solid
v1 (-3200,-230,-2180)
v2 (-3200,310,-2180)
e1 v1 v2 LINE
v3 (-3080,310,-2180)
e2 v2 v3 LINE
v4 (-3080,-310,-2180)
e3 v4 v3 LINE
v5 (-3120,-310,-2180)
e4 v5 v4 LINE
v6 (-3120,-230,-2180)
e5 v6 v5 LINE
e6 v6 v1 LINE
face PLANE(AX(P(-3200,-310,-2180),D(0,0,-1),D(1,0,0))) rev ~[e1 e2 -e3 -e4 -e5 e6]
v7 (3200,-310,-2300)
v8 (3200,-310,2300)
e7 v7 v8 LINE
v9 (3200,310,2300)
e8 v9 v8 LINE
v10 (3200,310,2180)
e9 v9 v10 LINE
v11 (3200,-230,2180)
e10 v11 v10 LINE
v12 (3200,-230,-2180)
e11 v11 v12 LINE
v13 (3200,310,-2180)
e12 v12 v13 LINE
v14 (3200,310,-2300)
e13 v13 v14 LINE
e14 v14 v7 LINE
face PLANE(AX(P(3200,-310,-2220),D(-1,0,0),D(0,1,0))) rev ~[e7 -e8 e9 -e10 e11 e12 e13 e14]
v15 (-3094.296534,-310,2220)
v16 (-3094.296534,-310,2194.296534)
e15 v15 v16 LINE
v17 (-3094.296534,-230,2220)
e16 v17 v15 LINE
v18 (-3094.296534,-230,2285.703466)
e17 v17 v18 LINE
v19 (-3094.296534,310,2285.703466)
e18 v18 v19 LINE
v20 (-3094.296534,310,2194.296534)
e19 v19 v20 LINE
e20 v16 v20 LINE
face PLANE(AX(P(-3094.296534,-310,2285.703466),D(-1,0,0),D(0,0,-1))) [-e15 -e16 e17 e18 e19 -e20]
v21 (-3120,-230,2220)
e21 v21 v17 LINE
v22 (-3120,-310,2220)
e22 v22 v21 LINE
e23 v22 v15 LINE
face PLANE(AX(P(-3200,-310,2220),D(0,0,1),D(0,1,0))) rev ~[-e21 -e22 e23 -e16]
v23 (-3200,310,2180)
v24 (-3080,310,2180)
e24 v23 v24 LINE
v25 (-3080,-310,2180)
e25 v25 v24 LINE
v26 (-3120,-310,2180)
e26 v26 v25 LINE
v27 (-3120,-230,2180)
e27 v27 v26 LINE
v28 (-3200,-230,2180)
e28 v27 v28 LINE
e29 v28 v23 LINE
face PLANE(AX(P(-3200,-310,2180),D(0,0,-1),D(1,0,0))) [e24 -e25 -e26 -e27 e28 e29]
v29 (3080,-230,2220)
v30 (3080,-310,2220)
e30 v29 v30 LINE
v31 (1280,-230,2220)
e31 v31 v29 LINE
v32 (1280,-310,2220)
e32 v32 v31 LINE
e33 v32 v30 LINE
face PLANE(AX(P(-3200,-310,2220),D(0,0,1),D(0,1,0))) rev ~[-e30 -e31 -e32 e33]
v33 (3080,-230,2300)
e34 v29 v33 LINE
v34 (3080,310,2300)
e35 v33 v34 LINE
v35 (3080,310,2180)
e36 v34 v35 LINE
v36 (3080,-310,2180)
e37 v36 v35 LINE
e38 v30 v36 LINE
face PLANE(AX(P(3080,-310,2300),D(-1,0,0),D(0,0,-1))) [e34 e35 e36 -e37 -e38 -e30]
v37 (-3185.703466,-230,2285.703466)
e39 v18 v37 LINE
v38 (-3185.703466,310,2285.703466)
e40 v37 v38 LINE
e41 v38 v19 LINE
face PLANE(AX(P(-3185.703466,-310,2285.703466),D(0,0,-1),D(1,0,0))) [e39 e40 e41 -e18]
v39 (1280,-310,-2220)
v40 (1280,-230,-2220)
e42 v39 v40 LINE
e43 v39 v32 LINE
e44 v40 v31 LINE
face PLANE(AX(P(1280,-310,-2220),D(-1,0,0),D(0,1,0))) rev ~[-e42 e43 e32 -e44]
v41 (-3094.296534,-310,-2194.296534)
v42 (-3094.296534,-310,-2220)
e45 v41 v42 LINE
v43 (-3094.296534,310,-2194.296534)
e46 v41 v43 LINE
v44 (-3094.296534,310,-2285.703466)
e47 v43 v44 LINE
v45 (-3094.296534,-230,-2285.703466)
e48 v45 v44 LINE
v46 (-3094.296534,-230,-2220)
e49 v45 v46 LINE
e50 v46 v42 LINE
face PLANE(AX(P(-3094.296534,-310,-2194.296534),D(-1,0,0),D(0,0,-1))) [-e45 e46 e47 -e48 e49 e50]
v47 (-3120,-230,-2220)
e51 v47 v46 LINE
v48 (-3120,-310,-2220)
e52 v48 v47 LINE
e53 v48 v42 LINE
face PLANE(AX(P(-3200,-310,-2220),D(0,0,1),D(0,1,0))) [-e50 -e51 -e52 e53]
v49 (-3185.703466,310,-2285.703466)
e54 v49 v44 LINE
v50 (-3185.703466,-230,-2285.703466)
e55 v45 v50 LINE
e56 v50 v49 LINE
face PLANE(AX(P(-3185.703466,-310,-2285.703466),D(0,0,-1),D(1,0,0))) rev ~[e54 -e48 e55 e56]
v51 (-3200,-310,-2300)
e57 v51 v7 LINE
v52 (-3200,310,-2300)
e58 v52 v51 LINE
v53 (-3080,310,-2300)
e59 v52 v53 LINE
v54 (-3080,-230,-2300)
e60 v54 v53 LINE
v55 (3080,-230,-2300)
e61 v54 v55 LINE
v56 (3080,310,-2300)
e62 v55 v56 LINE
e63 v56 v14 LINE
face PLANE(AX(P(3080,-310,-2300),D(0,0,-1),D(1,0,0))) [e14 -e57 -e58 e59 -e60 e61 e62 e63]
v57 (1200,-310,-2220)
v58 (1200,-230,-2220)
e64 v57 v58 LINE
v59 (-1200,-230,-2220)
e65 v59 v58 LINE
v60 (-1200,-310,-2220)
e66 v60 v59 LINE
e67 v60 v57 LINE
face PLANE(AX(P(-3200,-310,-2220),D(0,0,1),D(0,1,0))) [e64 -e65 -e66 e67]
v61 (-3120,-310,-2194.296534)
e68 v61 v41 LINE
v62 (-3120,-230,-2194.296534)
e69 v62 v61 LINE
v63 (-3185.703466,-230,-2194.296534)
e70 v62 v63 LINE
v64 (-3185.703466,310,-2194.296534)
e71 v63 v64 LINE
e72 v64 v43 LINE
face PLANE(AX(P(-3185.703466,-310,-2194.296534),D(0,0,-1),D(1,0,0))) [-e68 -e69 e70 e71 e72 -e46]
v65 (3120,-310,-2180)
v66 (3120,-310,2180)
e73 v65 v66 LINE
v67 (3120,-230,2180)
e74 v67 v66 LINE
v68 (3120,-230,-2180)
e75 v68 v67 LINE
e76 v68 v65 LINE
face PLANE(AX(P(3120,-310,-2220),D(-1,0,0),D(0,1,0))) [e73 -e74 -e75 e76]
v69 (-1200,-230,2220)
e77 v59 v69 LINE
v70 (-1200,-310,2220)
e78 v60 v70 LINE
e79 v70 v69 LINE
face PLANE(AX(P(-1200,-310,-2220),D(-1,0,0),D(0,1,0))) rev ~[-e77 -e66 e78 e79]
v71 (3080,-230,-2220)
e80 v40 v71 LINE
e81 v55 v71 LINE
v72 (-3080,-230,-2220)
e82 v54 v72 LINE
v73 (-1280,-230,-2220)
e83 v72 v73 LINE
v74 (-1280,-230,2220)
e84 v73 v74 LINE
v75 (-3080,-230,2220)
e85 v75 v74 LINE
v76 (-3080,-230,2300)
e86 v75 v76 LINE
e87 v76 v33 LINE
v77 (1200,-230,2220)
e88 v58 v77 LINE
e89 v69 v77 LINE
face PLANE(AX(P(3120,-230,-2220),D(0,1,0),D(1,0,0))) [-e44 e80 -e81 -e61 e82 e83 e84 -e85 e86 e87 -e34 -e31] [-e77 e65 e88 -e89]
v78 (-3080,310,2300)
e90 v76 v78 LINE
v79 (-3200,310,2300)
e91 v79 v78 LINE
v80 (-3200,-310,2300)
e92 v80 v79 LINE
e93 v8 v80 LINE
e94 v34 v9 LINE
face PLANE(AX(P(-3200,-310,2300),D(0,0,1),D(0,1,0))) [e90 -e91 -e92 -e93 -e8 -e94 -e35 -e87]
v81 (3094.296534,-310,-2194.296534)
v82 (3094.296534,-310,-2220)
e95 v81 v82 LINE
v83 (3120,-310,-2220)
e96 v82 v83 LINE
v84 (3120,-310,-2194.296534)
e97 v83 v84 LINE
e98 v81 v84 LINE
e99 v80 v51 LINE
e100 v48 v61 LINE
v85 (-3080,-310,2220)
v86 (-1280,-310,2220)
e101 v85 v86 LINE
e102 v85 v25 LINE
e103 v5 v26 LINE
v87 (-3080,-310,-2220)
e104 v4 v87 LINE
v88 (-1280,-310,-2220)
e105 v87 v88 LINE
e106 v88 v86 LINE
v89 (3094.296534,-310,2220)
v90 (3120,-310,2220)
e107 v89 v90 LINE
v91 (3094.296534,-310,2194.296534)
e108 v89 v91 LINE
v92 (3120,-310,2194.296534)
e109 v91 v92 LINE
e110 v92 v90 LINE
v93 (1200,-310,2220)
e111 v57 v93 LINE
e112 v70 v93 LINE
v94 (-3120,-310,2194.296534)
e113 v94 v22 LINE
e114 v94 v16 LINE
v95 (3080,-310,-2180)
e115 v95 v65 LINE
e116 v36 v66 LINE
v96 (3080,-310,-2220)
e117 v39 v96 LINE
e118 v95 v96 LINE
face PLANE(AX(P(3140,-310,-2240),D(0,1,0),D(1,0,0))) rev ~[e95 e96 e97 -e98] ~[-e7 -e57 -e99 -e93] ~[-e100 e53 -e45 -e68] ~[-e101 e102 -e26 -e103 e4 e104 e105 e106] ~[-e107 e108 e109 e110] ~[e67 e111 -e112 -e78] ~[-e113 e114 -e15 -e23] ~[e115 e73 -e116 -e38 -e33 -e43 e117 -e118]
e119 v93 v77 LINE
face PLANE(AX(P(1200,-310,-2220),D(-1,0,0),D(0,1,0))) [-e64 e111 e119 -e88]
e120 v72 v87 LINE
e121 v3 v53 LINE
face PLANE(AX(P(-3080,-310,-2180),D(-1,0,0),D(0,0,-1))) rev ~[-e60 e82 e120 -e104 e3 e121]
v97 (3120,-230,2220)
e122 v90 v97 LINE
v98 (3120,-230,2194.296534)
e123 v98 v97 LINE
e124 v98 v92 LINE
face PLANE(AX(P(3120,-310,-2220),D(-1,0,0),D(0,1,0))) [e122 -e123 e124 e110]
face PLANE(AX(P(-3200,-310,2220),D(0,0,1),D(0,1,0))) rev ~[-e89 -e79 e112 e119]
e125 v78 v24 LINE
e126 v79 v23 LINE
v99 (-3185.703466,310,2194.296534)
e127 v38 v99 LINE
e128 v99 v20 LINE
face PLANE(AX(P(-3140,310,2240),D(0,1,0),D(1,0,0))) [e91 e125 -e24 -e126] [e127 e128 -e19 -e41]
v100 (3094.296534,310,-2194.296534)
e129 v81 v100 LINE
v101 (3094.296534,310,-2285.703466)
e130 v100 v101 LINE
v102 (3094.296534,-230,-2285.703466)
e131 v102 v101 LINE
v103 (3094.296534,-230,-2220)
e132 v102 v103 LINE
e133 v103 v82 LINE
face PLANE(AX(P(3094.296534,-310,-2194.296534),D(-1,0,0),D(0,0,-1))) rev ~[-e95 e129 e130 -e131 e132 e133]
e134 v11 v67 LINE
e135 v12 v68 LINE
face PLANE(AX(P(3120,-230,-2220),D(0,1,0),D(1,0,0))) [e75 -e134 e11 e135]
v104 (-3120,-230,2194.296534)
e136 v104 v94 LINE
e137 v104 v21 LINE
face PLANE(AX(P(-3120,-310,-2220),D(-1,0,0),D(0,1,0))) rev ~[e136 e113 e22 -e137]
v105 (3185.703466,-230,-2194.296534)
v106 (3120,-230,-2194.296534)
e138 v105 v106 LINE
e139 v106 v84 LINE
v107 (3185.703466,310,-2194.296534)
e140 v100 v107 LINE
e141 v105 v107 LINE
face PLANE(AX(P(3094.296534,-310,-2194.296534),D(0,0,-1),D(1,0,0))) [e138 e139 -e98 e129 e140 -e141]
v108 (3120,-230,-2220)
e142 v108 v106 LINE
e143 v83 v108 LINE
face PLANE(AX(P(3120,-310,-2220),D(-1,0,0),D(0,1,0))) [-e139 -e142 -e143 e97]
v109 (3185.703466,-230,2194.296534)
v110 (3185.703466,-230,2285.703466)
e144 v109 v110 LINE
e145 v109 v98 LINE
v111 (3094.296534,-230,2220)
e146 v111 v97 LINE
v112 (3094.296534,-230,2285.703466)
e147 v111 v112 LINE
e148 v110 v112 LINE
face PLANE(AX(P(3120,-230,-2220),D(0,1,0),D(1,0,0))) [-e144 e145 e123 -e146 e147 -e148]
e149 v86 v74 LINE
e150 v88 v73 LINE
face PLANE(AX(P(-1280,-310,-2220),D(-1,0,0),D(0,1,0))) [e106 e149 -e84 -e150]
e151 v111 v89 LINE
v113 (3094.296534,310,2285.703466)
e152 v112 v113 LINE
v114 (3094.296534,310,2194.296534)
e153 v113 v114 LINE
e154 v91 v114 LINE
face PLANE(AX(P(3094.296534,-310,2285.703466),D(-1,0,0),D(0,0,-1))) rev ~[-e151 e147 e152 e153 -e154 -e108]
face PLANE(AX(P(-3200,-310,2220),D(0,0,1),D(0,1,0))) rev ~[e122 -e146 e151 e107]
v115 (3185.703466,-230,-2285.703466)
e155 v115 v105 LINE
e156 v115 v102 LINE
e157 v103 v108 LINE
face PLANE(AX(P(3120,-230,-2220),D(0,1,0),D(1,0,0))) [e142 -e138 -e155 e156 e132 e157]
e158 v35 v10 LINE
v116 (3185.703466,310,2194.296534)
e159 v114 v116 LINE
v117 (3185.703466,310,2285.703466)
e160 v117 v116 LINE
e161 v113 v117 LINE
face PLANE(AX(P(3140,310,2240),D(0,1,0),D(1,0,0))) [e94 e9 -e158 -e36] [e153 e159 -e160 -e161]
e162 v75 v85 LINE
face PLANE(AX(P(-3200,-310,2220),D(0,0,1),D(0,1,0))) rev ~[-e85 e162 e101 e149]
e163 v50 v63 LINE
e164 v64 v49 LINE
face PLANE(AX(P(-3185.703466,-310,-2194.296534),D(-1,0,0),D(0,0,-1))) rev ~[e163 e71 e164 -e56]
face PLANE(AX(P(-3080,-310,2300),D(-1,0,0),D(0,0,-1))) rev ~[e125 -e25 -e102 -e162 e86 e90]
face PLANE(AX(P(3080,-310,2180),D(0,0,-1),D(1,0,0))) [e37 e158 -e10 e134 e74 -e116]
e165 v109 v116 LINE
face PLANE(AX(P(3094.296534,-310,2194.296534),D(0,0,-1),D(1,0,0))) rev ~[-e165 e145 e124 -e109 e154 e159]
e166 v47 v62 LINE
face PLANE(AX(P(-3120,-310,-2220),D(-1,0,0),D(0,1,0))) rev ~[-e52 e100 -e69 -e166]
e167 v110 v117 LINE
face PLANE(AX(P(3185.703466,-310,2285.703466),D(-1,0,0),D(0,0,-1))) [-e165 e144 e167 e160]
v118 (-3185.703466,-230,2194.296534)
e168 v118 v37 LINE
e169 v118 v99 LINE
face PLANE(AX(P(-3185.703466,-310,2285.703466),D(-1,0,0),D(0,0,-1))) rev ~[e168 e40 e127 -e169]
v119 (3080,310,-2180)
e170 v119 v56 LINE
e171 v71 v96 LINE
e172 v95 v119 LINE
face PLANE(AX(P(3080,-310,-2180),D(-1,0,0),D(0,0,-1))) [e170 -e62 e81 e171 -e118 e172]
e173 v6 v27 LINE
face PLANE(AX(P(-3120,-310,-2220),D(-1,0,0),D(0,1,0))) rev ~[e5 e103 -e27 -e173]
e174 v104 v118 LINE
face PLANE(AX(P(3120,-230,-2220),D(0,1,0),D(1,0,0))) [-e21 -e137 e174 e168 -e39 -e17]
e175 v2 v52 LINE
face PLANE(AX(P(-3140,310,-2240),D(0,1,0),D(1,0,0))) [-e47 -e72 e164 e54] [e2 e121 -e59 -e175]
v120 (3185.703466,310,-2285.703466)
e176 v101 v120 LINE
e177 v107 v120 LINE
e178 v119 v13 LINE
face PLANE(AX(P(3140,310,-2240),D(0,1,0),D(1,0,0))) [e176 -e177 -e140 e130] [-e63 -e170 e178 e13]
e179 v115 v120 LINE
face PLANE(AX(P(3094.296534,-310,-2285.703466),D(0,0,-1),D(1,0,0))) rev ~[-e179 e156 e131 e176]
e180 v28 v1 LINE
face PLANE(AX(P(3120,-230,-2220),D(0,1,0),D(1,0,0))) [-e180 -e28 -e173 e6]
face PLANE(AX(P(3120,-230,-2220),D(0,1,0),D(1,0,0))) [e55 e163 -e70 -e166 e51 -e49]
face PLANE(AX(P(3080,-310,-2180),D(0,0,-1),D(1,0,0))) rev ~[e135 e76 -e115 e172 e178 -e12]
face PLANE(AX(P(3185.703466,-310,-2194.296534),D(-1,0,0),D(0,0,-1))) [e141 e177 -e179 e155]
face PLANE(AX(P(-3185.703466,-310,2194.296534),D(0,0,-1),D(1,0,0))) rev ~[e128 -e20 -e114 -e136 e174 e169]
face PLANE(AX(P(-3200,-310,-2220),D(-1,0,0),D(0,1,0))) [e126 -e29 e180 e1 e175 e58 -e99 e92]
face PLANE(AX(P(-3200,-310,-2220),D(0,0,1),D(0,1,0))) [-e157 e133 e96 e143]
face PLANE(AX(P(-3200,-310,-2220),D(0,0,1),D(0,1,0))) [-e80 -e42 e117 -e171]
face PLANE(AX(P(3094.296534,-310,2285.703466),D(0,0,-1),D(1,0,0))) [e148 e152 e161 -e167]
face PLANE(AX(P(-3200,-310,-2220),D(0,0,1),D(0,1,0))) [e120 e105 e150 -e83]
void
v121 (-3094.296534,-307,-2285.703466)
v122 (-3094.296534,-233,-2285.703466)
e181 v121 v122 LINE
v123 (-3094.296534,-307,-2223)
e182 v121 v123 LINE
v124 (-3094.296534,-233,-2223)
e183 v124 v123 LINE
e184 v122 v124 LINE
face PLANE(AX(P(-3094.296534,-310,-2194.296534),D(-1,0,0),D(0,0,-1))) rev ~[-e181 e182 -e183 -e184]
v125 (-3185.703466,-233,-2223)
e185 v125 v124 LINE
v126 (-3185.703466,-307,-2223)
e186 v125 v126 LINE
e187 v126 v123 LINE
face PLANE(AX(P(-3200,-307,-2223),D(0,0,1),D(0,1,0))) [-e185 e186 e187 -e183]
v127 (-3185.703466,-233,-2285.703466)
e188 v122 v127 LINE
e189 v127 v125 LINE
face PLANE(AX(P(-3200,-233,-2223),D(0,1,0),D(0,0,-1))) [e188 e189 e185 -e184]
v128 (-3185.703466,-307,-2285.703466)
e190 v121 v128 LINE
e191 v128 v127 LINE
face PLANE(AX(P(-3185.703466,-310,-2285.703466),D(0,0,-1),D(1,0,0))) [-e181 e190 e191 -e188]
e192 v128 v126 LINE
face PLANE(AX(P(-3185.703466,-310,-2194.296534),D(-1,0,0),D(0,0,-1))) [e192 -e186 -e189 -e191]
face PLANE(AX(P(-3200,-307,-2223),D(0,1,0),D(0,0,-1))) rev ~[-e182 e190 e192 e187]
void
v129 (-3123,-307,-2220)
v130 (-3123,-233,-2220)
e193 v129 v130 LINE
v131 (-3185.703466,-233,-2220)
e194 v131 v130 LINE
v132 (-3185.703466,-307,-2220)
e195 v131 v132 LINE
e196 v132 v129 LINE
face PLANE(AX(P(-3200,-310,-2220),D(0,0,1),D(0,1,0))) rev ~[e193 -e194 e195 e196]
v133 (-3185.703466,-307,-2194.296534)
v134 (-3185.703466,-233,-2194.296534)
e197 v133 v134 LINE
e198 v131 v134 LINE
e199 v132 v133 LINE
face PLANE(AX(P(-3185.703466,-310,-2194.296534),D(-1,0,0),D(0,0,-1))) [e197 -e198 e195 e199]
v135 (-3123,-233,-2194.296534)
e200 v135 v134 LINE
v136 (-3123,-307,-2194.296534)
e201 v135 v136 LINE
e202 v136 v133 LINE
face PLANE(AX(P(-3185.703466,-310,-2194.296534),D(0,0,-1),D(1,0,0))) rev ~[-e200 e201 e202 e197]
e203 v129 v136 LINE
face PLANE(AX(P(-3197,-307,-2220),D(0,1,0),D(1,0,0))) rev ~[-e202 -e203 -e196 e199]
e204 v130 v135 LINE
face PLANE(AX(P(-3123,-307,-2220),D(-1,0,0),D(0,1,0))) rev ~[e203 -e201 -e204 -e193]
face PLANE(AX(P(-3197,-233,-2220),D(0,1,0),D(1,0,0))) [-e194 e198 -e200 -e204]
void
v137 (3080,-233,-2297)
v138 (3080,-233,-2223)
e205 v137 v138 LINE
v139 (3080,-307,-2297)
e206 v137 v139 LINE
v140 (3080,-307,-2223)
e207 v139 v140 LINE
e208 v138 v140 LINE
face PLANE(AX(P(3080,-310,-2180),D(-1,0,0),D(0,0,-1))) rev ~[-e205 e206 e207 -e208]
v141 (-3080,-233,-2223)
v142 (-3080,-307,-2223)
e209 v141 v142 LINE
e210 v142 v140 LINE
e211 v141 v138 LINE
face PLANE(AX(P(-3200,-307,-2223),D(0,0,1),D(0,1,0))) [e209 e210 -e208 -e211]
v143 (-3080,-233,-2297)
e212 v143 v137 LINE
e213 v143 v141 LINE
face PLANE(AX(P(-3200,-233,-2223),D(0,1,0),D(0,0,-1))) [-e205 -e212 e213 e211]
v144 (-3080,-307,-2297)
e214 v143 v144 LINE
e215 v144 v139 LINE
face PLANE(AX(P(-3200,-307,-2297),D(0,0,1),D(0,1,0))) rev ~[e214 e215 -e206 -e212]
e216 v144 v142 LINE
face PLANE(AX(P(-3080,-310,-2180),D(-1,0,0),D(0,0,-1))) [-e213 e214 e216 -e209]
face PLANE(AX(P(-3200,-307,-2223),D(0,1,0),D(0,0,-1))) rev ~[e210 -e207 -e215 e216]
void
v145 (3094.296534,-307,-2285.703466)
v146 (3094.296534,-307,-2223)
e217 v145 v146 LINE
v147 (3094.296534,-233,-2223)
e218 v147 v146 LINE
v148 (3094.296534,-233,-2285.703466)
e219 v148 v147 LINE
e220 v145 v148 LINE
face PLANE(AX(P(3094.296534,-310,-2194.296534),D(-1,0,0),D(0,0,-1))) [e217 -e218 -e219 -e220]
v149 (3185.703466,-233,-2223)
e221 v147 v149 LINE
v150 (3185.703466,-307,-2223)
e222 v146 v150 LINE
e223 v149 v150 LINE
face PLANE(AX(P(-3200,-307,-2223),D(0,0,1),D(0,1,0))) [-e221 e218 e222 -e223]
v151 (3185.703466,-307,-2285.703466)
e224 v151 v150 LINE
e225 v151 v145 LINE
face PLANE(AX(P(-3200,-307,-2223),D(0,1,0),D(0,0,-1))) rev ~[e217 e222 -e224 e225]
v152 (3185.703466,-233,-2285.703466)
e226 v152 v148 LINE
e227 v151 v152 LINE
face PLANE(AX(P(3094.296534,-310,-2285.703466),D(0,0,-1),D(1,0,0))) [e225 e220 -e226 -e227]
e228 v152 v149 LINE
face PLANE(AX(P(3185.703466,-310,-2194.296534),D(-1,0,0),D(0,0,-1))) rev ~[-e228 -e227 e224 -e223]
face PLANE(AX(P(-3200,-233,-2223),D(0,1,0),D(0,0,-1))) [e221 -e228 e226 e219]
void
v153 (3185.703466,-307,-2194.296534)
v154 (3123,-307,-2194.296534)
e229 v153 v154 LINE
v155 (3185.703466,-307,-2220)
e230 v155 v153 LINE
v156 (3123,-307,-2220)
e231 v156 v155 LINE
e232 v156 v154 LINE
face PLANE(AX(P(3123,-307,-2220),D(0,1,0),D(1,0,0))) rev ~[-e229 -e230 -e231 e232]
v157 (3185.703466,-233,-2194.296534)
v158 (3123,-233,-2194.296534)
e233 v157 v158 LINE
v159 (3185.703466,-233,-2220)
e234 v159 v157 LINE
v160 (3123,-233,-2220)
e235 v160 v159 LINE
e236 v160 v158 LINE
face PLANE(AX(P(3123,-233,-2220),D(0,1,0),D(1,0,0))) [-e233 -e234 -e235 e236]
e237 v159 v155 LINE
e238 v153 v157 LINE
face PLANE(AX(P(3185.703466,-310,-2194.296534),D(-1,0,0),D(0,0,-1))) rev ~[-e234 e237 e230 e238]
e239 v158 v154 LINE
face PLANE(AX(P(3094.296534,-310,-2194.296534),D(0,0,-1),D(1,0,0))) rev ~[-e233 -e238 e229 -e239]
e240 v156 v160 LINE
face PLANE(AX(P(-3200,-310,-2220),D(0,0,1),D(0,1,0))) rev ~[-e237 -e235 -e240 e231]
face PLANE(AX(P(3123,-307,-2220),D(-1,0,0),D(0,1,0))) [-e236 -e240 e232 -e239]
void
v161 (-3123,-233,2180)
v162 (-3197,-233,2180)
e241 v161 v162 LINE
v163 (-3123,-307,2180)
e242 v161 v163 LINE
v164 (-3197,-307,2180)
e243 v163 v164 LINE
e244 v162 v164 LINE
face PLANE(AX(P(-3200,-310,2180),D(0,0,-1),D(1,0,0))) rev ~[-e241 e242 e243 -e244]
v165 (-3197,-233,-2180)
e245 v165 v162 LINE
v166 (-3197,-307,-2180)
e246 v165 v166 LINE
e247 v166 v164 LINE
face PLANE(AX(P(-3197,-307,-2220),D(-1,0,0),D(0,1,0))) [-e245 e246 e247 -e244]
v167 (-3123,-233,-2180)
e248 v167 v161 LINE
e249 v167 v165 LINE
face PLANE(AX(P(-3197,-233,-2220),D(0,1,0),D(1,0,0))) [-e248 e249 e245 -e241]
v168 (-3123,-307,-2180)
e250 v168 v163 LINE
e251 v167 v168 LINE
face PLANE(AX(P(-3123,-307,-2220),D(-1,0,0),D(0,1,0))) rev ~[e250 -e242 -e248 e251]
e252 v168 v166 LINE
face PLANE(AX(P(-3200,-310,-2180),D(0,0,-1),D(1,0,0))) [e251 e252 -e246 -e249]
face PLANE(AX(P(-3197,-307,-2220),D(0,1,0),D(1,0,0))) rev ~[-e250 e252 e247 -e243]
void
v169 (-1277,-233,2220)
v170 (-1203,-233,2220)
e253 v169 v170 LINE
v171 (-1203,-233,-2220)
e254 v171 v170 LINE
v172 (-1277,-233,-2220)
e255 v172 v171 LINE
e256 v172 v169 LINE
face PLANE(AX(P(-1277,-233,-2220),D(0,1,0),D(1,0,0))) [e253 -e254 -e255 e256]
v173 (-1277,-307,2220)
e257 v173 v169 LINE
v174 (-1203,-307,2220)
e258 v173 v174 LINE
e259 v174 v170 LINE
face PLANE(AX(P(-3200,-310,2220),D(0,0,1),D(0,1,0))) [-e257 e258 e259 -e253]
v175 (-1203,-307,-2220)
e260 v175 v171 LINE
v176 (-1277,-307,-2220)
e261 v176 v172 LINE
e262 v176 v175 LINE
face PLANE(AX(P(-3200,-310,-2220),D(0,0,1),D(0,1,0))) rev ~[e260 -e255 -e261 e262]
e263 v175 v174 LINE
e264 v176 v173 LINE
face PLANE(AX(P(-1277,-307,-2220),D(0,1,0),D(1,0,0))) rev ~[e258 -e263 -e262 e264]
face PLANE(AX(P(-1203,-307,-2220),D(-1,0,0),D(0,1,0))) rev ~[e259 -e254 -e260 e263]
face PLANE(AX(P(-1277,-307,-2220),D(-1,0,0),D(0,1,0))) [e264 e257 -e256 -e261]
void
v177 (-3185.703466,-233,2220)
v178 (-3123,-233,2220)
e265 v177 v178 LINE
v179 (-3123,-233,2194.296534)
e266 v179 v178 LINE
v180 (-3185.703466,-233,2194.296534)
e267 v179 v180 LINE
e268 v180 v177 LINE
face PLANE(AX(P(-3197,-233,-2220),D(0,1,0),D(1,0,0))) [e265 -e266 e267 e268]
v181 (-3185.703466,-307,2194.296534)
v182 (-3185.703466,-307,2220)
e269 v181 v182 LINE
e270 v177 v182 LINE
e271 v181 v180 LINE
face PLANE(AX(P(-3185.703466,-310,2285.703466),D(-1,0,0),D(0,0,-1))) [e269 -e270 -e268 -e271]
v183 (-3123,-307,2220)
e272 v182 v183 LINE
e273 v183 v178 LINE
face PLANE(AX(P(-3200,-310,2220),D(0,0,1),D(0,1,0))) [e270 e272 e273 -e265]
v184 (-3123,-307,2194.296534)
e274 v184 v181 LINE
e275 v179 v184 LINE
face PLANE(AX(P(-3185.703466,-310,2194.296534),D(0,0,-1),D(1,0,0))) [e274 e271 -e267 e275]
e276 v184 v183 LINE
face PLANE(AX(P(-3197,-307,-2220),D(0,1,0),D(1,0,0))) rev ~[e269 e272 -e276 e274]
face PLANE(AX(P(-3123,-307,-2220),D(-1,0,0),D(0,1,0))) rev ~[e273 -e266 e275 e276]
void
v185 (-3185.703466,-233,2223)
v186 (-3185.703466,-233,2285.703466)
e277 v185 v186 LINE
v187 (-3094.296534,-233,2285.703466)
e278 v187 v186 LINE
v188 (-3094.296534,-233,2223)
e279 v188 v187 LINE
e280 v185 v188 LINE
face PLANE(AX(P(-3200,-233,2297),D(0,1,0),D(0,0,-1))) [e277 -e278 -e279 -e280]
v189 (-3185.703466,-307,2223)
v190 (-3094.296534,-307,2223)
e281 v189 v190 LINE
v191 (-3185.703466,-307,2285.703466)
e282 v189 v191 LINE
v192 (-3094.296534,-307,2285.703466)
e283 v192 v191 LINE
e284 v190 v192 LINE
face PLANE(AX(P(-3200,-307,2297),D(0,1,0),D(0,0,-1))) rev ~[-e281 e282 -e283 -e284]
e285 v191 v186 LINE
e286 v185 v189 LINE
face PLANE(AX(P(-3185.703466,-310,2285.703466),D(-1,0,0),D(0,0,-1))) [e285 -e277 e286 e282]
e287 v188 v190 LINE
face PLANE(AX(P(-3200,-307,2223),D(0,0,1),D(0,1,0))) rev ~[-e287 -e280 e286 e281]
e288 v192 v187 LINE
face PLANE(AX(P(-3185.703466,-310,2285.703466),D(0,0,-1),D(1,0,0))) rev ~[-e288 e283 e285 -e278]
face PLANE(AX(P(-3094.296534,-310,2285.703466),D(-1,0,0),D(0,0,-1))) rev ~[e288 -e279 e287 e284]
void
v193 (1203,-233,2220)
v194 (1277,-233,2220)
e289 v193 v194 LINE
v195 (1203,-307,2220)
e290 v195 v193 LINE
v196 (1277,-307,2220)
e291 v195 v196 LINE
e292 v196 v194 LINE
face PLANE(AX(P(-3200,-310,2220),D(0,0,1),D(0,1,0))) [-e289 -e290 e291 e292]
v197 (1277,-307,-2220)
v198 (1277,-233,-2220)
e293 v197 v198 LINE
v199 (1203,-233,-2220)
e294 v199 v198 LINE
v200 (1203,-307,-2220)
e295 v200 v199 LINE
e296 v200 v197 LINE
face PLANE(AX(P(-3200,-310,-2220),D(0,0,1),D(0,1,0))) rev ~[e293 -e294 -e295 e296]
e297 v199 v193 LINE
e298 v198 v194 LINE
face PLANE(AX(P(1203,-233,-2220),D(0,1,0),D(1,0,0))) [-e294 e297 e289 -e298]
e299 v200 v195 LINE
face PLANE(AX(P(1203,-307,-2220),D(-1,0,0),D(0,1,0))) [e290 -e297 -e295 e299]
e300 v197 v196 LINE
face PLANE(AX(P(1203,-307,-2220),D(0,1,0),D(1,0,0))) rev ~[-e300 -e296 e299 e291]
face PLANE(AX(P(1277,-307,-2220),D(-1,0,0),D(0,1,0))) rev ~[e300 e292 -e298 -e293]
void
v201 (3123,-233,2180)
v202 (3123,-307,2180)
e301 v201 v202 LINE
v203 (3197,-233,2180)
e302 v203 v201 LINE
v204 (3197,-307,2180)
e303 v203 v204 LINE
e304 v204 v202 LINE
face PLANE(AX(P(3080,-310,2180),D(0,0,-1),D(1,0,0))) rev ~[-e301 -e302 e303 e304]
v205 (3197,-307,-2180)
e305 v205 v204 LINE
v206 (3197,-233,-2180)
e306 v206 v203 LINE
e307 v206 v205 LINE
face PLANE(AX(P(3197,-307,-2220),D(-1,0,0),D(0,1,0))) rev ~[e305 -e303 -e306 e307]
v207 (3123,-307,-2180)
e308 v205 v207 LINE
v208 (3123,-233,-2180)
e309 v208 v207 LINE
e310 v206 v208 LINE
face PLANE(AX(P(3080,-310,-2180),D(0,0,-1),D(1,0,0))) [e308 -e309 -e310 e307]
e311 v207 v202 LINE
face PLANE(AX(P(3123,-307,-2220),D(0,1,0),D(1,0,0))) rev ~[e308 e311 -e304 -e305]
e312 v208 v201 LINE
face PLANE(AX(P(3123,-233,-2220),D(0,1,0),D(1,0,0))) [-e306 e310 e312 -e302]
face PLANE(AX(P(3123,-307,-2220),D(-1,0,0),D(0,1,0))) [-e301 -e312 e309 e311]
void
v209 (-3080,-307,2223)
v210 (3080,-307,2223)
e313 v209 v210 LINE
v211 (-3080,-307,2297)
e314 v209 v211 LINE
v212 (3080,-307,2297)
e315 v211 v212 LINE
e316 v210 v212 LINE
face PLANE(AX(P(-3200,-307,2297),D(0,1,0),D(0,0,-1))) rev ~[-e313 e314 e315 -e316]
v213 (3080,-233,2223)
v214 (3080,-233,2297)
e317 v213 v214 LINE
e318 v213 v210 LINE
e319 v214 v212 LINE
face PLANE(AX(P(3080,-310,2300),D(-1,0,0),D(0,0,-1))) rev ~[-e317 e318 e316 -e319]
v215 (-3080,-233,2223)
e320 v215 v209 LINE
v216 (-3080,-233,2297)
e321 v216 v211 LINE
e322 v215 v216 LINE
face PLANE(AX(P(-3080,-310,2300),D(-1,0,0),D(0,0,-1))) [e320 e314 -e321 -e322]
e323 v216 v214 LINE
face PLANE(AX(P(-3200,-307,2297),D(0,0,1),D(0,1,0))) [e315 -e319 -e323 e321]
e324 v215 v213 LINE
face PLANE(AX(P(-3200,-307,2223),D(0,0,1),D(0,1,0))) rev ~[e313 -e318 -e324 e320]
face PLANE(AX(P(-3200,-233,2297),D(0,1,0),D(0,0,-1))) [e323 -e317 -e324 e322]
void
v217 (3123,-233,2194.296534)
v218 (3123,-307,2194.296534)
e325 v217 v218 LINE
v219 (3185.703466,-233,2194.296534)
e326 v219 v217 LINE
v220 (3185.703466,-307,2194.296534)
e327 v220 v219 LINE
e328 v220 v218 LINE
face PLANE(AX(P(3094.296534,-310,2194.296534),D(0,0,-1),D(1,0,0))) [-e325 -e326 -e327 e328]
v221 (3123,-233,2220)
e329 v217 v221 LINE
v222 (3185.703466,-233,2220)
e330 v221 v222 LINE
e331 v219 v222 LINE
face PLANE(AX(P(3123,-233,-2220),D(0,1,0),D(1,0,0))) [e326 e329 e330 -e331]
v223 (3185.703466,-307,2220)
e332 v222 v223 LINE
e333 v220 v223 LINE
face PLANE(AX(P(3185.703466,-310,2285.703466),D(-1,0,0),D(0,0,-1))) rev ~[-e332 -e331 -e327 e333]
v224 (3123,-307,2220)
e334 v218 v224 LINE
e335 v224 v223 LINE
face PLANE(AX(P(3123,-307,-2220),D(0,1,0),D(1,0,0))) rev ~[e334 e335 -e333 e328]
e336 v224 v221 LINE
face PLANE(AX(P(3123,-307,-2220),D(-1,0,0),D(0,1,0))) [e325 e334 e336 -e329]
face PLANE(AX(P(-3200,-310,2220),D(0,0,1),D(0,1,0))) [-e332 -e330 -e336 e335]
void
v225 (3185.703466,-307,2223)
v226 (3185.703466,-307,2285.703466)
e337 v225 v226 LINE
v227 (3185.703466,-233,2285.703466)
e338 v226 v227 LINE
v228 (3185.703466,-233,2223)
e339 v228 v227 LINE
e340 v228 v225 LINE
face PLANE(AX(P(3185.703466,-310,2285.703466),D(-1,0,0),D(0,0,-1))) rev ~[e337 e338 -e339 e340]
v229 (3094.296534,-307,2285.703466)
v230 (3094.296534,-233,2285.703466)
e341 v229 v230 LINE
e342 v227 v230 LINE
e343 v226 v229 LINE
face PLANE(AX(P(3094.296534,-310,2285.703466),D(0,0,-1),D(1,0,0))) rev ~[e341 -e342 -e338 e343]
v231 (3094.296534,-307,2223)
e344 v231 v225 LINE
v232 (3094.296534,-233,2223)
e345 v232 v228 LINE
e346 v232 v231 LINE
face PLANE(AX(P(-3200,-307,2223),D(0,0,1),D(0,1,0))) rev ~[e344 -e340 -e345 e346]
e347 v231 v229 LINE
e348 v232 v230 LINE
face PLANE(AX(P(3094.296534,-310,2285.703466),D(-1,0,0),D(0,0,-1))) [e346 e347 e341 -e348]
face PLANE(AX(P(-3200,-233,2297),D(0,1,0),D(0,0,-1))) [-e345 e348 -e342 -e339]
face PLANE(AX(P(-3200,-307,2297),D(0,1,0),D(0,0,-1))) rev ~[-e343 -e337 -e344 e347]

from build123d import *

# Parameters (mm, degrees)
BOSS_EXTRUDE1_START  = -3200
SKETCH1_W            = 80
SKETCH1_H            = 80
SKETCH1_W_2          = 74
SKETCH1_H_2          = 74
BOSS_EXTRUDE1_DEPTH  = 6400
BOSS_EXTRUDE2_START  = -3200
SKETCH2_W            = 80
SKETCH2_H            = 80
SKETCH2_W_2          = 74
SKETCH2_H_2          = 74
BOSS_EXTRUDE2_DEPTH  = 6400
BOSS_EXTRUDE3_START  = -2220
SKETCH3_W            = 80
SKETCH3_H            = 80
SKETCH3_W_2          = 74
SKETCH3_H_2          = 74
BOSS_EXTRUDE3_DEPTH  = 4440
BOSS_EXTRUDE4_START  = -2220
SKETCH4_W            = 80
SKETCH4_H            = 80
SKETCH4_W_2          = 74
SKETCH4_H_2          = 74
BOSS_EXTRUDE4_DEPTH  = 4440
BOSS_EXTRUDE5_START  = -2220
SKETCH5_W            = 80
SKETCH5_H            = 80
SKETCH5_W_2          = 74
SKETCH5_H_2          = 74
BOSS_EXTRUDE5_DEPTH  = 4440
BOSS_EXTRUDE6_START  = -2220
SKETCH6_W            = 80
SKETCH6_H            = 80
SKETCH6_W_2          = 74
SKETCH6_H_2          = 74
BOSS_EXTRUDE6_DEPTH  = 4440
BOSS_EXTRUDE7_START  = -310
SKETCH7_W            = 120
SKETCH7_H            = 120
SKETCH7_W_2          = 91.406932704
SKETCH7_H_2          = 91.406932704
BOSS_EXTRUDE7_DEPTH  = 620
BOSS_EXTRUDE8_START  = -310
SKETCH8_W            = 120
SKETCH8_H            = 120
SKETCH8_W_2          = 91.406932704
SKETCH8_H_2          = 91.406932704
BOSS_EXTRUDE8_DEPTH  = 620
BOSS_EXTRUDE9_START  = -310
SKETCH9_W            = 120
SKETCH9_H            = 120
SKETCH9_W_2          = 91.406932704
SKETCH9_H_2          = 91.406932704
BOSS_EXTRUDE9_DEPTH  = 620
BOSS_EXTRUDE10_START = -310
SKETCH10_W           = 120
SKETCH10_H           = 120
SKETCH10_W_2         = 91.406932704
SKETCH10_H_2         = 91.406932704
BOSS_EXTRUDE10_DEPTH = 620


with BuildPart() as part:
    # Sketch1 → Boss-Extrude1 (new body)
    with BuildSketch(Plane(origin=(0, 0, 0), x_dir=(0, 0, -1), z_dir=(1, 0, 0)).offset(BOSS_EXTRUDE1_START)):
        with Locations((2260, -270)):
            Rectangle(SKETCH1_W, SKETCH1_H)
        with Locations((2260, -270)):
            Rectangle(SKETCH1_W_2, SKETCH1_H_2, mode=Mode.SUBTRACT)
    extrude(amount=BOSS_EXTRUDE1_DEPTH)



with BuildPart() as body_2:
    # Sketch2 → Boss-Extrude2 (new body)
    with BuildSketch(Plane(origin=(0, 0, 0), x_dir=(0, 0, -1), z_dir=(1, 0, 0)).offset(BOSS_EXTRUDE2_START)):
        with Locations((-2260, -270)):
            Rectangle(SKETCH2_W, SKETCH2_H)
        with Locations((-2260, -270)):
            Rectangle(SKETCH2_W_2, SKETCH2_H_2, mode=Mode.SUBTRACT)
    extrude(amount=BOSS_EXTRUDE2_DEPTH)


with BuildPart() as part_1:
    add(part.part)

    add(body_2.part)  # Boss-Extrude3 merges body 2
    # Sketch3 → Boss-Extrude3 (add)
    with BuildSketch(Plane.XY.offset(BOSS_EXTRUDE3_START)):
        with Locations((-3160, -270)):
            Rectangle(SKETCH3_W, SKETCH3_H)
        with Locations((-3160, -270)):
            Rectangle(SKETCH3_W_2, SKETCH3_H_2, mode=Mode.SUBTRACT)
    extrude(amount=BOSS_EXTRUDE3_DEPTH)

    # Sketch4 → Boss-Extrude4 (add)
    with BuildSketch(Plane.XY.offset(BOSS_EXTRUDE4_START)):
        with Locations((-1240, -270)):
            Rectangle(SKETCH4_W, SKETCH4_H)
        with Locations((-1240, -270)):
            Rectangle(SKETCH4_W_2, SKETCH4_H_2, mode=Mode.SUBTRACT)
    extrude(amount=BOSS_EXTRUDE4_DEPTH)

    # Sketch5 → Boss-Extrude5 (add)
    with BuildSketch(Plane.XY.offset(BOSS_EXTRUDE5_START)):
        with Locations((3160, -270)):
            Rectangle(SKETCH5_W, SKETCH5_H)
        with Locations((3160, -270)):
            Rectangle(SKETCH5_W_2, SKETCH5_H_2, mode=Mode.SUBTRACT)
    extrude(amount=BOSS_EXTRUDE5_DEPTH)

    # Sketch6 → Boss-Extrude6 (add)
    with BuildSketch(Plane.XY.offset(BOSS_EXTRUDE6_START)):
        with Locations((1240, -270)):
            Rectangle(SKETCH6_W, SKETCH6_H)
        with Locations((1240, -270)):
            Rectangle(SKETCH6_W_2, SKETCH6_H_2, mode=Mode.SUBTRACT)
    extrude(amount=BOSS_EXTRUDE6_DEPTH)

    # Sketch7 → Boss-Extrude7 (add)
    with BuildSketch(Plane(origin=(0, 0, 0), x_dir=(1, 0, 0), z_dir=(0, 1, 0)).offset(BOSS_EXTRUDE7_START)):
        with Locations((-3140, 2240)):
            Rectangle(SKETCH7_W, SKETCH7_H)
        with Locations((-3140, 2240)):
            Rectangle(SKETCH7_W_2, SKETCH7_H_2, mode=Mode.SUBTRACT)
    extrude(amount=BOSS_EXTRUDE7_DEPTH)

    # Sketch8 → Boss-Extrude8 (add)
    with BuildSketch(Plane(origin=(0, 0, 0), x_dir=(1, 0, 0), z_dir=(0, 1, 0)).offset(BOSS_EXTRUDE8_START)):
        with Locations((-3140, -2240)):
            Rectangle(SKETCH8_W, SKETCH8_H)
        with Locations((-3140, -2240)):
            Rectangle(SKETCH8_W_2, SKETCH8_H_2, mode=Mode.SUBTRACT)
    extrude(amount=BOSS_EXTRUDE8_DEPTH)

    # Sketch9 → Boss-Extrude9 (add)
    with BuildSketch(Plane(origin=(0, 0, 0), x_dir=(1, 0, 0), z_dir=(0, 1, 0)).offset(BOSS_EXTRUDE9_START)):
        with Locations((3140, 2240)):
            Rectangle(SKETCH9_W, SKETCH9_H)
        with Locations((3140, 2240)):
            Rectangle(SKETCH9_W_2, SKETCH9_H_2, mode=Mode.SUBTRACT)
    extrude(amount=BOSS_EXTRUDE9_DEPTH)

    # Sketch10 → Boss-Extrude10 (add)
    with BuildSketch(Plane(origin=(0, 0, 0), x_dir=(1, 0, 0), z_dir=(0, 1, 0)).offset(BOSS_EXTRUDE10_START)):
        with Locations((3140, -2240)):
            Rectangle(SKETCH10_W, SKETCH10_H)
        with Locations((3140, -2240)):
            Rectangle(SKETCH10_W_2, SKETCH10_H_2, mode=Mode.SUBTRACT)
    extrude(amount=BOSS_EXTRUDE10_DEPTH)


solid = part_1.part
